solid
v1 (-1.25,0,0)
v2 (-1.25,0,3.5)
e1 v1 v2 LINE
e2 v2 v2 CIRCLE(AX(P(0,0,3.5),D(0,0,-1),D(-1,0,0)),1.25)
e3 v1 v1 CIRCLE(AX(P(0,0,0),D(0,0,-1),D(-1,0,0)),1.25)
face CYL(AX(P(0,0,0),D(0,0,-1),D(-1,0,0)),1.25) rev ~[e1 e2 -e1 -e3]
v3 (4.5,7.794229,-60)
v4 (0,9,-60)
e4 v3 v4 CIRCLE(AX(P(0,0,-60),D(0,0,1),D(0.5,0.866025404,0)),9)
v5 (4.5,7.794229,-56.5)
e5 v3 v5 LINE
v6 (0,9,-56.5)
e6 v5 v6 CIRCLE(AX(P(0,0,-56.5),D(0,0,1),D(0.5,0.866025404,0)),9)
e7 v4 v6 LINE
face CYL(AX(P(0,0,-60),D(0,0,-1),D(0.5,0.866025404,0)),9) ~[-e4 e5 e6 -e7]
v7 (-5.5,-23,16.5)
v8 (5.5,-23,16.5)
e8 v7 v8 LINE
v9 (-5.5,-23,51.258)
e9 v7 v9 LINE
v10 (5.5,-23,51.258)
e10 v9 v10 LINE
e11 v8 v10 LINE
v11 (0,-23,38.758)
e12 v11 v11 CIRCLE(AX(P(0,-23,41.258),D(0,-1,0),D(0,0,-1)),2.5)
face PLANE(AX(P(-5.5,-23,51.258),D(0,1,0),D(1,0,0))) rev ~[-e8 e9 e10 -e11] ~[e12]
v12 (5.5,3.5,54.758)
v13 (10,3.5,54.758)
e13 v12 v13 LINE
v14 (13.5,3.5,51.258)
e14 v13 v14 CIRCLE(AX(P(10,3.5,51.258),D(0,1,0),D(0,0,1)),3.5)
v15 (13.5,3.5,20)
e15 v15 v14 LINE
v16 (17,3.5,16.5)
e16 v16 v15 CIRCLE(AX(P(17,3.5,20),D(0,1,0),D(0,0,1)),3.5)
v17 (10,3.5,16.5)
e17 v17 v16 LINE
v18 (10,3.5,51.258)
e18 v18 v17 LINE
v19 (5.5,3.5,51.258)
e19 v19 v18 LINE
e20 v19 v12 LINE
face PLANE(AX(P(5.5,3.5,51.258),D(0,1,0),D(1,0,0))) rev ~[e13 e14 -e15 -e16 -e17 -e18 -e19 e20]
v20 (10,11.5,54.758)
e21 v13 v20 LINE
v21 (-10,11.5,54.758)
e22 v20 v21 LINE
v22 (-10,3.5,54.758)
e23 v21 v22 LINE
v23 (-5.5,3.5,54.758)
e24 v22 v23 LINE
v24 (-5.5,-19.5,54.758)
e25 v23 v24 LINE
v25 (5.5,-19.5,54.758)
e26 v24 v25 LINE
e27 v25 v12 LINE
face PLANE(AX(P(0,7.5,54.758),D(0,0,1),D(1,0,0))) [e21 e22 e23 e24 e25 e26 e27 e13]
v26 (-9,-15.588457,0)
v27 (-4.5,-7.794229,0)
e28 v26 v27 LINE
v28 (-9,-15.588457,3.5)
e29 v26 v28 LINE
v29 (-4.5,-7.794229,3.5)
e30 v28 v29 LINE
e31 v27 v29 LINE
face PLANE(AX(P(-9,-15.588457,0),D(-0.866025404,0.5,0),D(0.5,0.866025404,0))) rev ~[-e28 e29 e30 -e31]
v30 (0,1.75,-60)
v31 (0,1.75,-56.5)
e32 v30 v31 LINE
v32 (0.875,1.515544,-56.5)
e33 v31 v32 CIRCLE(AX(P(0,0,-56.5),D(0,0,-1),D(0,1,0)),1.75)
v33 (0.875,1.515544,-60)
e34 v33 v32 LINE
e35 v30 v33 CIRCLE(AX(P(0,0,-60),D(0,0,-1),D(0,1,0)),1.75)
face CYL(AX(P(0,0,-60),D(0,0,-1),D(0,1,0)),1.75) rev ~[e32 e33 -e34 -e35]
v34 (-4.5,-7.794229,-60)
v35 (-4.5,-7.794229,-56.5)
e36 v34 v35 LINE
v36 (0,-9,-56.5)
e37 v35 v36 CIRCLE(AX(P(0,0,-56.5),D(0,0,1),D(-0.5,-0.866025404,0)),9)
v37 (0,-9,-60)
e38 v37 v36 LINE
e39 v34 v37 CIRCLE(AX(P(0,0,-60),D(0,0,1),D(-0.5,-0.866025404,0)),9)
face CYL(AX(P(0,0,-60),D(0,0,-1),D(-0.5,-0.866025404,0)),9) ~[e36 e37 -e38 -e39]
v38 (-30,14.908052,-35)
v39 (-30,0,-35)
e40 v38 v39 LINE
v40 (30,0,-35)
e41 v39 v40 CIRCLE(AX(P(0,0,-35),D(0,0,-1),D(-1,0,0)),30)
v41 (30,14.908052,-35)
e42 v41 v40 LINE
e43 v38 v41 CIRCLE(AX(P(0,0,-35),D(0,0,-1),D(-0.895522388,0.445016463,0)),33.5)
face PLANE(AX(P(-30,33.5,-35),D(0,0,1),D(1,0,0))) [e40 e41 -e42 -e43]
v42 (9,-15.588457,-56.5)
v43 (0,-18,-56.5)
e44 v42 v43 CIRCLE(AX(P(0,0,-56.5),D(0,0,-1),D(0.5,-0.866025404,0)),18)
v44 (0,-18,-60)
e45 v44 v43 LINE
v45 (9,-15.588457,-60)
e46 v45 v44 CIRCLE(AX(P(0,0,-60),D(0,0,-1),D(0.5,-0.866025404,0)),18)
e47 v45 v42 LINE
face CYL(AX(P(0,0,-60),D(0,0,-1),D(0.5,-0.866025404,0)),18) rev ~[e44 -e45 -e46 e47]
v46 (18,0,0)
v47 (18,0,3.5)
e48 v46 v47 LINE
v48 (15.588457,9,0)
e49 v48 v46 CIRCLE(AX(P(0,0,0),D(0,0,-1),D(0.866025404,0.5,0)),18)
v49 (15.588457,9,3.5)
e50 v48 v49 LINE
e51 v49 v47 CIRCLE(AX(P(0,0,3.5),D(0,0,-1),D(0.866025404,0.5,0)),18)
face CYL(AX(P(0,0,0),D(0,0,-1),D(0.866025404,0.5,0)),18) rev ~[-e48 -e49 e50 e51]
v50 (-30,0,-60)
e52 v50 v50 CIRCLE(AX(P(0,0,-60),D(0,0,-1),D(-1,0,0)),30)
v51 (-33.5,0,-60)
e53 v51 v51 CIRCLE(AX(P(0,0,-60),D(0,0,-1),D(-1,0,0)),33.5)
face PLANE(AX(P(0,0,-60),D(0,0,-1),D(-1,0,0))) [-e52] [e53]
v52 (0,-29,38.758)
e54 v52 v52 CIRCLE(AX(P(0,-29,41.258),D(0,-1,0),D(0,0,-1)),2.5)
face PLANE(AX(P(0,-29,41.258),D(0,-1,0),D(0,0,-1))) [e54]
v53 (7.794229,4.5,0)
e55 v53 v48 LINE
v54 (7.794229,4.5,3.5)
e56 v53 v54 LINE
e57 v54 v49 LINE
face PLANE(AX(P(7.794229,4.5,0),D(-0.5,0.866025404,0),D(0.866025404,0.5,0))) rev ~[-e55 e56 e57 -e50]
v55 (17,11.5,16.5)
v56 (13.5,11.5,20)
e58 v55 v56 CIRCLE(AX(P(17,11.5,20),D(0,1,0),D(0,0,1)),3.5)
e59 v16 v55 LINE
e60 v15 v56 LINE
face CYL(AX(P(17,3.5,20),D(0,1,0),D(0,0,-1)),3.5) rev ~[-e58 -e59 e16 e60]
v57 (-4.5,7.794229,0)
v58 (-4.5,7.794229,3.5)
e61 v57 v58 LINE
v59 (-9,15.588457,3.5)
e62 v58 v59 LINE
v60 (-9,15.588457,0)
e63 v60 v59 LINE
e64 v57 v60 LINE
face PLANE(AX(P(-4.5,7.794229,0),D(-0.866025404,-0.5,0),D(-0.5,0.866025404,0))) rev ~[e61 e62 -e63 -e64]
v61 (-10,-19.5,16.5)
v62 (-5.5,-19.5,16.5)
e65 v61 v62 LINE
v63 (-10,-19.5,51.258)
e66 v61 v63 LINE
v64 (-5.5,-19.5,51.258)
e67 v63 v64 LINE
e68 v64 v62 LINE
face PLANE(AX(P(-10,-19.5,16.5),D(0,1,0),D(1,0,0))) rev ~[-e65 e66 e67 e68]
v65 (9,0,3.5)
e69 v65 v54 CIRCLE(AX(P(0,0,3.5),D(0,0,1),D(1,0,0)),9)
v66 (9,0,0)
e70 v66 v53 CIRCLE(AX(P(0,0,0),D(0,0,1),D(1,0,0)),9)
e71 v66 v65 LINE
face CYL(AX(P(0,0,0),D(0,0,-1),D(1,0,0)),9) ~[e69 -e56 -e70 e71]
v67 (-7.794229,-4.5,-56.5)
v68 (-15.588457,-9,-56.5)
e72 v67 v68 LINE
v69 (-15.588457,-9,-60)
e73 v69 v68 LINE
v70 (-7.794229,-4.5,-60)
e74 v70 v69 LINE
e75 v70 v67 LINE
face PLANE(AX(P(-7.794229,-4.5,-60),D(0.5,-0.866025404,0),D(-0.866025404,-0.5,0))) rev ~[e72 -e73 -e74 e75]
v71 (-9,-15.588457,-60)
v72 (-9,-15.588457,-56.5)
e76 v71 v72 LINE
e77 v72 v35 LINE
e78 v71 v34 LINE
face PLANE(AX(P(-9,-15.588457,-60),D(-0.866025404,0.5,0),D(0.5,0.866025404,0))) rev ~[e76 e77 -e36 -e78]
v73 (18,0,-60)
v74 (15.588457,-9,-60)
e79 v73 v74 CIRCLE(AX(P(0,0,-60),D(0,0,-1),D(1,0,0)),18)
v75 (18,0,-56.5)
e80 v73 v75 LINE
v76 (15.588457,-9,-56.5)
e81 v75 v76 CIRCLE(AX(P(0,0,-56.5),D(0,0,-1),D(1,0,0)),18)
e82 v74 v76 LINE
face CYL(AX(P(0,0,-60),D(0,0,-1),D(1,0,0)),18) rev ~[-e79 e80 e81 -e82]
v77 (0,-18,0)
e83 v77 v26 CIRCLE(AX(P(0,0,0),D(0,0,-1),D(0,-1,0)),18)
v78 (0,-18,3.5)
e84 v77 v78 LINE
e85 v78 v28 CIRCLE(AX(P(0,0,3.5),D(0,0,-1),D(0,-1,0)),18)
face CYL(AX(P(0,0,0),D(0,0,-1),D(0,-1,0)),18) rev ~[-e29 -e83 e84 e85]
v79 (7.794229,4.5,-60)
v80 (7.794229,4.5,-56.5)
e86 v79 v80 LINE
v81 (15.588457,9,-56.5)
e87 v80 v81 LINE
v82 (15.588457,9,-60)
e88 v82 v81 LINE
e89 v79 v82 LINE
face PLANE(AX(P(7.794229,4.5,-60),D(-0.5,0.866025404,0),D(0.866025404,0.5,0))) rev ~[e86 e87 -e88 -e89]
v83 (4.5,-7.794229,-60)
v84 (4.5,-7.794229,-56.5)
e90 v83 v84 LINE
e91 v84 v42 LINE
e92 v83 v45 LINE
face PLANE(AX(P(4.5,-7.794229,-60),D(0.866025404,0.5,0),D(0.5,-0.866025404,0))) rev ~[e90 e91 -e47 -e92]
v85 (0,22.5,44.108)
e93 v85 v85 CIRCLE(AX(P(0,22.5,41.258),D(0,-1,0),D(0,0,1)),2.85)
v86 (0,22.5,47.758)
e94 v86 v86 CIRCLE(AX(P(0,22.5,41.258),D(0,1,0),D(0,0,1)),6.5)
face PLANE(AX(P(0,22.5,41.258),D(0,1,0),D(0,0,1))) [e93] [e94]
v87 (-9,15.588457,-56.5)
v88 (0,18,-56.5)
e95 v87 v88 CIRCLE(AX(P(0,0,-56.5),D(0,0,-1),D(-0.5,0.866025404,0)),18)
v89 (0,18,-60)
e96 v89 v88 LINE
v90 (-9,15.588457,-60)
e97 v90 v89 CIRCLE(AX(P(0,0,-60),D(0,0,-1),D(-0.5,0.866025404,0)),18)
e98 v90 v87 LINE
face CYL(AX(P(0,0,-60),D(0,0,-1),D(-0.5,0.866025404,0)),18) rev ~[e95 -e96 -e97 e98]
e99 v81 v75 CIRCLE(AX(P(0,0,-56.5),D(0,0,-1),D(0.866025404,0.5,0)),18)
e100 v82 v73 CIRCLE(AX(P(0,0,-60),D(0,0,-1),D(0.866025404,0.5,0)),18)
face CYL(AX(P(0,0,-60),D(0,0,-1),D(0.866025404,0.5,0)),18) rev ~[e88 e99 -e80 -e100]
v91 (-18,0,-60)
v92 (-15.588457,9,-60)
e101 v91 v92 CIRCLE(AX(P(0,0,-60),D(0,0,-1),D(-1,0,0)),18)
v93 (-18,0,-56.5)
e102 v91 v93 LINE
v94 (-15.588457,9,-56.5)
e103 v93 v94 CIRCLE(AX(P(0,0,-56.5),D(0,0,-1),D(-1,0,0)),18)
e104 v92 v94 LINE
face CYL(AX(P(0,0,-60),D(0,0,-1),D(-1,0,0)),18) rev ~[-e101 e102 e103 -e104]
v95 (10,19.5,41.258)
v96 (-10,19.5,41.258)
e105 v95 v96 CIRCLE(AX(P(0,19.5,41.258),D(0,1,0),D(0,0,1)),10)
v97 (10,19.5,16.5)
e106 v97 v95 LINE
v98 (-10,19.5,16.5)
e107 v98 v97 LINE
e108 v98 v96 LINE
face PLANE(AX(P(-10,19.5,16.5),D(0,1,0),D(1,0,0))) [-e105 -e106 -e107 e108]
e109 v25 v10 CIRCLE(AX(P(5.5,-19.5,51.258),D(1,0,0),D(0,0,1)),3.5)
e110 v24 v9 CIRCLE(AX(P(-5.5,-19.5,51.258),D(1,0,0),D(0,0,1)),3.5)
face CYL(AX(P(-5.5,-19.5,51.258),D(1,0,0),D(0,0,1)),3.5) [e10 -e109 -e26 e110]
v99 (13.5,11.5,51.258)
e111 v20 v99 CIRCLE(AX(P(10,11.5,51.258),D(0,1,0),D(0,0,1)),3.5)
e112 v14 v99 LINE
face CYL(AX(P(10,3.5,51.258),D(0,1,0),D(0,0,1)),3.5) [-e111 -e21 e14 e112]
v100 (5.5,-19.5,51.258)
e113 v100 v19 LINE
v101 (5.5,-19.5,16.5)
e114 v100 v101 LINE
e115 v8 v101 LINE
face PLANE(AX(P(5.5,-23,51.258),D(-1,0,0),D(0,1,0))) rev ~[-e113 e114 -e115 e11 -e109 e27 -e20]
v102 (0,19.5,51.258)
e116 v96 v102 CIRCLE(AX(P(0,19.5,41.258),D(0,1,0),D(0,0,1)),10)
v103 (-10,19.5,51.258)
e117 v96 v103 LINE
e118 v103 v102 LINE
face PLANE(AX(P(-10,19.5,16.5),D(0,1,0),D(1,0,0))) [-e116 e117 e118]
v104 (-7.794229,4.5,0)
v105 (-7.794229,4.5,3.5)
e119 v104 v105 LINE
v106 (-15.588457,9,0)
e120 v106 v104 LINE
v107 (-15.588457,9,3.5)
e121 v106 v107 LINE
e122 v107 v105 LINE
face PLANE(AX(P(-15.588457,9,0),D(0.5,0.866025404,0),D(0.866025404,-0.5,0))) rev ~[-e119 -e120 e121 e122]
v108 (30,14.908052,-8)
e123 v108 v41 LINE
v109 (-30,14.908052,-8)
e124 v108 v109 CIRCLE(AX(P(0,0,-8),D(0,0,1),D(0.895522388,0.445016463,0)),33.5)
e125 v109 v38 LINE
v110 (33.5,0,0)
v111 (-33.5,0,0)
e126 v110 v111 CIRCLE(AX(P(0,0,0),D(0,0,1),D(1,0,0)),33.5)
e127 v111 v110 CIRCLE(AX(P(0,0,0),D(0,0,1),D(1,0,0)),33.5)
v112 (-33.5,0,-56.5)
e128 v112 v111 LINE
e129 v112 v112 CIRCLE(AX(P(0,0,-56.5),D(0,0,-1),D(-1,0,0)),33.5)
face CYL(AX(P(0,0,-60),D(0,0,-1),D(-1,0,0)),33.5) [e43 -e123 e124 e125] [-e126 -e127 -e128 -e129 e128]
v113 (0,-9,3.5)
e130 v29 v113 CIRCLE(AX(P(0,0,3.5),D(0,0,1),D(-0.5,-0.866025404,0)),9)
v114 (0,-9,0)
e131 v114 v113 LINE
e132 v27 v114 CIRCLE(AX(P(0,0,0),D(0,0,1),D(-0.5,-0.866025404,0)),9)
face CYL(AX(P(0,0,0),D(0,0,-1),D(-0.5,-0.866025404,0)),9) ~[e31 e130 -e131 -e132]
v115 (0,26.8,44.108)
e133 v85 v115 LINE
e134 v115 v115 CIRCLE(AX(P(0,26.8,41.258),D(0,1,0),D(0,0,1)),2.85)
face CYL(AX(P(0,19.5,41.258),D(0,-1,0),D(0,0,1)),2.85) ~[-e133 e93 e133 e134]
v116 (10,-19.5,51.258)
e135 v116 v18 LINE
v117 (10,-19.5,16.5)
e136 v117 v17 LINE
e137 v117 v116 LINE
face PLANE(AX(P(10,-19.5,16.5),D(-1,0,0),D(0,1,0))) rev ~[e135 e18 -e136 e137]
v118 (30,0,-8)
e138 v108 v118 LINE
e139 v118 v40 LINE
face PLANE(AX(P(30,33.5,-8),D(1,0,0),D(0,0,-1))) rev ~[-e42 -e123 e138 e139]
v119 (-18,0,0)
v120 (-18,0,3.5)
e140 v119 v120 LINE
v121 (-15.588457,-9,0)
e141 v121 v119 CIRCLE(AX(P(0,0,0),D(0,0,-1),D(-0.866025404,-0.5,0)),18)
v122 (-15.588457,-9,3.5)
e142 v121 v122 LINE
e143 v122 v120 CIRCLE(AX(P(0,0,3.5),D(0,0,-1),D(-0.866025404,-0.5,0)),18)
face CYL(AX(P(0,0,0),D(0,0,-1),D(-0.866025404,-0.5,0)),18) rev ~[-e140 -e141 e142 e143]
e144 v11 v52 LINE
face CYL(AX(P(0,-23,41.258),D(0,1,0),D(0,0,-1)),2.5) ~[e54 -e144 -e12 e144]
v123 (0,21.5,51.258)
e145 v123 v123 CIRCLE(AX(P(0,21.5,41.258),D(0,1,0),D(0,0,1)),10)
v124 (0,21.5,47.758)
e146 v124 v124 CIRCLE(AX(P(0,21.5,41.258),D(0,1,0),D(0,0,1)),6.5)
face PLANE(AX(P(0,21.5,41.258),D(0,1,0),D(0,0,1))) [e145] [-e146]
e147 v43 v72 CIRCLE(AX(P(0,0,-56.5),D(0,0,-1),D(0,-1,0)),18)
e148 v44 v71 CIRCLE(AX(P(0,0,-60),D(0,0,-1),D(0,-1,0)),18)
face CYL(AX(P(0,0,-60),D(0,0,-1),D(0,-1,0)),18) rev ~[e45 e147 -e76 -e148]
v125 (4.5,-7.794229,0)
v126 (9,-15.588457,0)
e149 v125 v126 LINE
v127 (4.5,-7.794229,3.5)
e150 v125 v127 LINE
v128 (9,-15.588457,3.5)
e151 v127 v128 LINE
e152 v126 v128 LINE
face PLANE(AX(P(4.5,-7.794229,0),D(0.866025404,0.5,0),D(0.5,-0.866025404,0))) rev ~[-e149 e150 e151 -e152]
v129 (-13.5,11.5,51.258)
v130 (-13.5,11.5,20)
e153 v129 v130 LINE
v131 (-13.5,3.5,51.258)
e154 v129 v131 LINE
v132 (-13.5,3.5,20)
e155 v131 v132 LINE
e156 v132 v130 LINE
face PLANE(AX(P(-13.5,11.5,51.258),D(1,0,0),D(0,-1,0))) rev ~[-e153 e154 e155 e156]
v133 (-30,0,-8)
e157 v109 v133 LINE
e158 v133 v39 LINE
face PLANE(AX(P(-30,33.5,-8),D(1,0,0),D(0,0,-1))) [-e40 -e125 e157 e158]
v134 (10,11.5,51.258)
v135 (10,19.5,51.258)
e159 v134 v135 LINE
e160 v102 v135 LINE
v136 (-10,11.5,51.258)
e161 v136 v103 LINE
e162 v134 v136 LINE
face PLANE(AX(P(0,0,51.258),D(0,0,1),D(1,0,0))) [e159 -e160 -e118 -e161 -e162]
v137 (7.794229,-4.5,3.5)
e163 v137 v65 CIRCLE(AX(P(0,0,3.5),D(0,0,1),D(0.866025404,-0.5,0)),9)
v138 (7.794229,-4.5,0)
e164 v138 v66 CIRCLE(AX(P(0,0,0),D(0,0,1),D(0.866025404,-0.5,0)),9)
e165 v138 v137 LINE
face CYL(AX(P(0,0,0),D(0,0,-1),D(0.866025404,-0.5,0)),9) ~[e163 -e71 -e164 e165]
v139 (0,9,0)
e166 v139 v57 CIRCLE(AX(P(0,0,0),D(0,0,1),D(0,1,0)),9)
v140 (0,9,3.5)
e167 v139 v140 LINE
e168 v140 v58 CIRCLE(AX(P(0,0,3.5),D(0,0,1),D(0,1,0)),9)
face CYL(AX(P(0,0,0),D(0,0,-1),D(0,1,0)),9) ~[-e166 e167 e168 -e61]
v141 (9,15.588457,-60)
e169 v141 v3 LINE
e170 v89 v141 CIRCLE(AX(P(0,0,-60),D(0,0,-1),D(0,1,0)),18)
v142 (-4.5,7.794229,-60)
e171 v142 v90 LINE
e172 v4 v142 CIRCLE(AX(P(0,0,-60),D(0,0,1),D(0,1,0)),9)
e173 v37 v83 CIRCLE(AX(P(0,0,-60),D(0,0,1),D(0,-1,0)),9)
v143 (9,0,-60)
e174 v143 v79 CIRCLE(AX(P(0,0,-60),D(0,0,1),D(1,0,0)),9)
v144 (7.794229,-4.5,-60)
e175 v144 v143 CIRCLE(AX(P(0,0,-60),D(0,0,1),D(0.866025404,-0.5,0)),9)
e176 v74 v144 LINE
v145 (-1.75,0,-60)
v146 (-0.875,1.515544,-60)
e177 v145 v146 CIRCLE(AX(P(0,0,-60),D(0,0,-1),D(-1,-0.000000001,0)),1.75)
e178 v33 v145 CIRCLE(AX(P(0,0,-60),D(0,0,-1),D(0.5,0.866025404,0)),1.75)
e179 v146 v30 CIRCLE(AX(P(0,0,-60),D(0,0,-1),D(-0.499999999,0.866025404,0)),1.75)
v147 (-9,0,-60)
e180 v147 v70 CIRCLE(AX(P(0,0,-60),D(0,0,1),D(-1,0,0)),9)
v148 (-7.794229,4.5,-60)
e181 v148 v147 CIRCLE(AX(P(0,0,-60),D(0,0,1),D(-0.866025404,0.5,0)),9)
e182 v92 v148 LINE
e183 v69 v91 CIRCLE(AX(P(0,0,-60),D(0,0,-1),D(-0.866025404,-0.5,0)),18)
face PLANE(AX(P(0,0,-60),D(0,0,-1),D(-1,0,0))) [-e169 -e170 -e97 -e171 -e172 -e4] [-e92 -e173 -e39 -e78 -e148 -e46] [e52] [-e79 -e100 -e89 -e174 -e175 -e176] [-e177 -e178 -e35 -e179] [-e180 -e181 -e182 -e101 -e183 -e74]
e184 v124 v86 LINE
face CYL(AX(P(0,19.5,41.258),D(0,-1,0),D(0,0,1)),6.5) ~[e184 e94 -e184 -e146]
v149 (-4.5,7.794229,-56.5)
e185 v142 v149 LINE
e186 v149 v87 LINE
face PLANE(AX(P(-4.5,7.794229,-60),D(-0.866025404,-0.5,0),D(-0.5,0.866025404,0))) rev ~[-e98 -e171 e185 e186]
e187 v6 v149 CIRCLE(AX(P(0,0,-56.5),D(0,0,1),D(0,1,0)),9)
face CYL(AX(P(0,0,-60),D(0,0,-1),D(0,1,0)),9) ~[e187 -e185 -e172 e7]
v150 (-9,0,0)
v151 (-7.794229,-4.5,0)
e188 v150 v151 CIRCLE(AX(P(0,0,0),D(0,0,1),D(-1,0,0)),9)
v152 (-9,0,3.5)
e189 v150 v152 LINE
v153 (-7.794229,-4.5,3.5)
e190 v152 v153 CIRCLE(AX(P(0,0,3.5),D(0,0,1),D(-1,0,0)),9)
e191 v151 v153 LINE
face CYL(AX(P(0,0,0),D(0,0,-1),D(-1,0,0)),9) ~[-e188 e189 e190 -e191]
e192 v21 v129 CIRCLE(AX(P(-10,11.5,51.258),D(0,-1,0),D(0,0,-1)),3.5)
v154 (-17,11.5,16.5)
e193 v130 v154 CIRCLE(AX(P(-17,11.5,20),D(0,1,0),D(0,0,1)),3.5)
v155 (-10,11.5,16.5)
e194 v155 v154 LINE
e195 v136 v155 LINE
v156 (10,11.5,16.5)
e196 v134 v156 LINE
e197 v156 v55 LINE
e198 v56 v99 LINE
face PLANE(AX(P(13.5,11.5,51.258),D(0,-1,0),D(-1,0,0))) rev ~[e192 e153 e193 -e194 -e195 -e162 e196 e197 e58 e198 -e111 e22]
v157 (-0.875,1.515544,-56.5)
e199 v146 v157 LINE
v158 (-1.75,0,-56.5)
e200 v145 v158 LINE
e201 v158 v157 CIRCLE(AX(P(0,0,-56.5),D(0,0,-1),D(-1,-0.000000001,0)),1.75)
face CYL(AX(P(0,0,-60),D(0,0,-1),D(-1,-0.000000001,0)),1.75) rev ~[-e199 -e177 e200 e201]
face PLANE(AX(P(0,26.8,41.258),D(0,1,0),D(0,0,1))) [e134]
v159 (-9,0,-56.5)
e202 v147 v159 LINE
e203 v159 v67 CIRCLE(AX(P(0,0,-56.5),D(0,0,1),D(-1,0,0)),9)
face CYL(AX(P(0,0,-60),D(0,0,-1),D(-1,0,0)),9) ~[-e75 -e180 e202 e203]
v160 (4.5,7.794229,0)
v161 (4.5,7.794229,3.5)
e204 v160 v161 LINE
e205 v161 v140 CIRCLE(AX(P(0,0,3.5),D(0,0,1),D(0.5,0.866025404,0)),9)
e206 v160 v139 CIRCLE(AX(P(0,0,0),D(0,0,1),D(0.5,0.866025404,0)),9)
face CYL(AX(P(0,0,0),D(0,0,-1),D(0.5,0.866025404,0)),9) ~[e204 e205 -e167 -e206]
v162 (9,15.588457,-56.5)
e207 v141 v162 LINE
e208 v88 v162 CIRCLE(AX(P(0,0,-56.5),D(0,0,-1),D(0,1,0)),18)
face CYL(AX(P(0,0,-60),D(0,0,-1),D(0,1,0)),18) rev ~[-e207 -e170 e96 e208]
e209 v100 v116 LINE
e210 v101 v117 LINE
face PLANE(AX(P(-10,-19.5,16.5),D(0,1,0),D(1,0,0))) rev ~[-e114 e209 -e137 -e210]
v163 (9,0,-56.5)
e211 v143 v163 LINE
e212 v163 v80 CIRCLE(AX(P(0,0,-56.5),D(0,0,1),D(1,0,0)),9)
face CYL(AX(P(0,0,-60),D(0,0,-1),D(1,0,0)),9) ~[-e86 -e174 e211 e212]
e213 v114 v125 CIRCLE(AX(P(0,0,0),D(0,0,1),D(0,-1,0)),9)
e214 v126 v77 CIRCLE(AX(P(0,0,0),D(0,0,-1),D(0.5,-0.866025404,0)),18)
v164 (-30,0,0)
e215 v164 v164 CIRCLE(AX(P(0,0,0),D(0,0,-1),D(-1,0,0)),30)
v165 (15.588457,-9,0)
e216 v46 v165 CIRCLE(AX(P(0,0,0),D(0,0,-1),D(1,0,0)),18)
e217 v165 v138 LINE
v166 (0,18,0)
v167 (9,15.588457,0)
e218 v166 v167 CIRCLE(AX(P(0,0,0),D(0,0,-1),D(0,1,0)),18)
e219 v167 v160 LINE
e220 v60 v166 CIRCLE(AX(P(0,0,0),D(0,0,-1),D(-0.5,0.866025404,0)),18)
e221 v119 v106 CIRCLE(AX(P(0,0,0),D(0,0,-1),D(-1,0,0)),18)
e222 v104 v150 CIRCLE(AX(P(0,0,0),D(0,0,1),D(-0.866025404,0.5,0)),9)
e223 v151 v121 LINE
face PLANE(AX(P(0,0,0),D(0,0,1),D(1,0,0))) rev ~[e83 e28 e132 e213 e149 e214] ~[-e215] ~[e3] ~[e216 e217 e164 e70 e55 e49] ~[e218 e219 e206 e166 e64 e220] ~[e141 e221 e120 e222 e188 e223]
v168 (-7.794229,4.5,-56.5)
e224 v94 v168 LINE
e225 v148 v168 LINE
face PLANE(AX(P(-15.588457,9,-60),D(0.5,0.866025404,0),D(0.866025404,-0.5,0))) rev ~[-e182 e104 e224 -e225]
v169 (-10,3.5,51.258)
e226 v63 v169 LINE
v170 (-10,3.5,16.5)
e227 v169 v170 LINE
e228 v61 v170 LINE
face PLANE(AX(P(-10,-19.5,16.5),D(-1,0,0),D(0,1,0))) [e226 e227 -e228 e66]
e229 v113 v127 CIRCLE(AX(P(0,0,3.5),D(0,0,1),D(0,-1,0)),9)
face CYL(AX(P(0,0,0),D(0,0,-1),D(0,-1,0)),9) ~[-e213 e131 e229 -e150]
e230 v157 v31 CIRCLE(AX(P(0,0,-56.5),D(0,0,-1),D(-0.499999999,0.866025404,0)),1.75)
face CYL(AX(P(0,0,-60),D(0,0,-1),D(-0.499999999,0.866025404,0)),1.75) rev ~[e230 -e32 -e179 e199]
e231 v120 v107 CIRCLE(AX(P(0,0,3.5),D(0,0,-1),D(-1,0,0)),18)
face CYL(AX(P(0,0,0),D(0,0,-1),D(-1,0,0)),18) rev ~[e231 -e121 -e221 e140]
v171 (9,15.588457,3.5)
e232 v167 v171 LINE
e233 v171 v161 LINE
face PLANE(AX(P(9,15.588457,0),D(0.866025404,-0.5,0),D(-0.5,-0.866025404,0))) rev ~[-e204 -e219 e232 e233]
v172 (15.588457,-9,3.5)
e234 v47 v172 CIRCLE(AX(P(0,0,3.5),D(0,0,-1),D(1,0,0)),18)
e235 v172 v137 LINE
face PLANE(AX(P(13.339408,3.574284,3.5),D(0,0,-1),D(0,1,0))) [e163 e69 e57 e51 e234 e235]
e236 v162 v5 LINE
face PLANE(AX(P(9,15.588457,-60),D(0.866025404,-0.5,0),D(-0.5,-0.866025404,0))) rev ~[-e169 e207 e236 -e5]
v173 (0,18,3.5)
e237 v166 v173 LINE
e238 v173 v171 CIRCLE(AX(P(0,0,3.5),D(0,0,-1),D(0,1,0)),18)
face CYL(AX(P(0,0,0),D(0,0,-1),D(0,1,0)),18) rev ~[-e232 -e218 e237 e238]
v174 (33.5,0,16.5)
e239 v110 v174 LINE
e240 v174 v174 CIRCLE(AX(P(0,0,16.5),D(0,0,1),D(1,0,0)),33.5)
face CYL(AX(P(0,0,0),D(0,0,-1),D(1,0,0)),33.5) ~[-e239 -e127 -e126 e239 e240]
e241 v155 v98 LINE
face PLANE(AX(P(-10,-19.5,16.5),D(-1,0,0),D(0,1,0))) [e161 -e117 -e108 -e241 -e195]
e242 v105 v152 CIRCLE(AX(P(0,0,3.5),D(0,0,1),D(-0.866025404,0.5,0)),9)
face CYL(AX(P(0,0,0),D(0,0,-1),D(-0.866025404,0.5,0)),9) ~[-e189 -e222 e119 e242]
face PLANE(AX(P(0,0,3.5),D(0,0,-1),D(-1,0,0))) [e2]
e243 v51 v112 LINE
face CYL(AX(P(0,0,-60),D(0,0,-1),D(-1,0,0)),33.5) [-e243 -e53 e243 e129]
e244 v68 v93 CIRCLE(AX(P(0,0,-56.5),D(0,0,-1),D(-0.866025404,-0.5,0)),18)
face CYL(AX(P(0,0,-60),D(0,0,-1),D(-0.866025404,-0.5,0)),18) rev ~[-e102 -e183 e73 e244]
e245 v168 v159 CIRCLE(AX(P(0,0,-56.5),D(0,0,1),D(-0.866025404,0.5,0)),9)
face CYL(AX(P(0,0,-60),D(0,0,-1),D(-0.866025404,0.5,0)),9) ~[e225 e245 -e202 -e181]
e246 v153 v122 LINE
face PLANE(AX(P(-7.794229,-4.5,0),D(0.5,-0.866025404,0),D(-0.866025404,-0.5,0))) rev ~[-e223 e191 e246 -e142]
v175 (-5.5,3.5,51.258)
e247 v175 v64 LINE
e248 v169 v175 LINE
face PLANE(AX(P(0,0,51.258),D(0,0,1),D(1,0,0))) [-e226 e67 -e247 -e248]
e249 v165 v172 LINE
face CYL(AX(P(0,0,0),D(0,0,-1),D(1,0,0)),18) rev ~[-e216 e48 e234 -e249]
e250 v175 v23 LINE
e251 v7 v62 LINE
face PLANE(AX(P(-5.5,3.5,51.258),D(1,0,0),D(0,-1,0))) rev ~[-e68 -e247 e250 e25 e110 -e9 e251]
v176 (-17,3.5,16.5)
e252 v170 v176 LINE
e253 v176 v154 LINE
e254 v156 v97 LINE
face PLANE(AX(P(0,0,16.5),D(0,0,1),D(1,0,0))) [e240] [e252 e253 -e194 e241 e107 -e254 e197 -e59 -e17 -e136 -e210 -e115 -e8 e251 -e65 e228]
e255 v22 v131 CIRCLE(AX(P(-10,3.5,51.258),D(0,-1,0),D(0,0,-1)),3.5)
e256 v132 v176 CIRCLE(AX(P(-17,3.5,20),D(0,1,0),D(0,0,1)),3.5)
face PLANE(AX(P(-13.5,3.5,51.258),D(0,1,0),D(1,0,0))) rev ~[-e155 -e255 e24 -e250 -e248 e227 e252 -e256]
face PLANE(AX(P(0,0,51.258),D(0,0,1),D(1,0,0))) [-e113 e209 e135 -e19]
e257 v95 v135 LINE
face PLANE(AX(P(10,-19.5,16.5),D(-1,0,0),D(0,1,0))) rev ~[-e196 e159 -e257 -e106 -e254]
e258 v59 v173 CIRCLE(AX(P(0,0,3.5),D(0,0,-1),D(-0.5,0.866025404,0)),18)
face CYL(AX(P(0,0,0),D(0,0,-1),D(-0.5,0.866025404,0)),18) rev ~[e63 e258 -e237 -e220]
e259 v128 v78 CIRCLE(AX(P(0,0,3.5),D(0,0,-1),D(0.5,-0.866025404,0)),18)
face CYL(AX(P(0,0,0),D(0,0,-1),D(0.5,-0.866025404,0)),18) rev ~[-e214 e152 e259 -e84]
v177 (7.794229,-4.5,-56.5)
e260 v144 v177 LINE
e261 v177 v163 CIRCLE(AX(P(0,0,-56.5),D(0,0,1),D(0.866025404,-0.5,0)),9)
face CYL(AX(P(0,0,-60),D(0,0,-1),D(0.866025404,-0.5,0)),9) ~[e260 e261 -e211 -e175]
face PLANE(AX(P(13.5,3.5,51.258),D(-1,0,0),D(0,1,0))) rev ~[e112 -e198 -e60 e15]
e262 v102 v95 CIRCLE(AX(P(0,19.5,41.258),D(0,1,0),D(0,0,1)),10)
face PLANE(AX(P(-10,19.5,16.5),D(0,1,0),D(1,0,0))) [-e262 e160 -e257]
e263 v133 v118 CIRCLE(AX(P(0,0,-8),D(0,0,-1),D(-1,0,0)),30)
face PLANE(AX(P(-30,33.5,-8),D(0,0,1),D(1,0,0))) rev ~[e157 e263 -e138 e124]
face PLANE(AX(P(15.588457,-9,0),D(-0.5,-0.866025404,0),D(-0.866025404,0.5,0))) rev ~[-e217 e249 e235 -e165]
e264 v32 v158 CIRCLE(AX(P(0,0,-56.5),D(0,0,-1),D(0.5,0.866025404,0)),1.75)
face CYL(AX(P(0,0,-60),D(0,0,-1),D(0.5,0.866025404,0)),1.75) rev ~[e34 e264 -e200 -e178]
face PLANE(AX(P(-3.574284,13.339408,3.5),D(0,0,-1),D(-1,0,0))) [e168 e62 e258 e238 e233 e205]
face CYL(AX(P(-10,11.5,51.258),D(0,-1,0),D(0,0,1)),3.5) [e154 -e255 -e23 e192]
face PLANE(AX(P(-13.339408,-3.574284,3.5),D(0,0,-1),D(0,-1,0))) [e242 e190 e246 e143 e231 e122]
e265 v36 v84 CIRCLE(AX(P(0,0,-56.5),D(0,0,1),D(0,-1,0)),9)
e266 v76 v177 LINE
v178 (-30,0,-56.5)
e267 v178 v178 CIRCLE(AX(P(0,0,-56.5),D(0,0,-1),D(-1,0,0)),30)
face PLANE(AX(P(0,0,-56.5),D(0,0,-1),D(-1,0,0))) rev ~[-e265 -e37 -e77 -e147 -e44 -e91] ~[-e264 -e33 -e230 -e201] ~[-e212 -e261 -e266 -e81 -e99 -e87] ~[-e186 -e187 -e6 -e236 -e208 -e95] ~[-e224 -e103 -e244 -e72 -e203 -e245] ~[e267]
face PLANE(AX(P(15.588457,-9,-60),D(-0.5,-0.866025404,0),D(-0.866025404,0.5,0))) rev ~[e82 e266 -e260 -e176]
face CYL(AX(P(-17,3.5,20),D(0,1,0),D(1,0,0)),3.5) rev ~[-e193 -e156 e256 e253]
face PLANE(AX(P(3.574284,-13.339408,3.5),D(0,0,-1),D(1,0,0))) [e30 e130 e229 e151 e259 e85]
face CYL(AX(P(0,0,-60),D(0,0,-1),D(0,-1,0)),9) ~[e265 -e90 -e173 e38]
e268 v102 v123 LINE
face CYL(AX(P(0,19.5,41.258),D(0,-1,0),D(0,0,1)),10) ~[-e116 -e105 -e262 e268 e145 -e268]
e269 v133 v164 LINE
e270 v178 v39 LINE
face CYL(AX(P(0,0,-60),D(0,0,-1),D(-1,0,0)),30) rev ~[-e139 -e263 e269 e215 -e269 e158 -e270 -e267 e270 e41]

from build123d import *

# Parameters (mm, degrees)
SKETCH1_R            = 33.5
BOSS_EXTRUDE3_DEPTH  = 16.5
SKETCH2_W            = 20
SKETCH2_H            = 39
BOSS_EXTRUDE4_DEPTH  = 34.758
SKETCH3_R            = 10
SKETCH3_R_2          = 6.5
BOSS_EXTRUDE5_DEPTH  = 2
SKETCH3_3_R          = 6.5
BOSS_EXTRUDE6_DEPTH  = 3
SKETCH3_4_R          = 2.85
BOSS_EXTRUDE7_DEPTH  = 7.3
SKETCH5_W            = 11
SKETCH5_H            = 3.5
SKETCH5_W_2          = 3.5
SKETCH5_H_2          = 8
BOSS_EXTRUDE8_DEPTH  = 34.758
SKETCH6_W            = 11
SKETCH6_H            = 8
BOSS_EXTRUDE9_DEPTH  = 3.5
SKETCH7_R            = 2.5
BOSS_EXTRUDE10_DEPTH = 6
FILLET1_R            = 3.5
FILLET2_R            = 3.5
FILLET3_R            = 3.5
FILLET4_R            = 3.5
CUT_EXTRUDE11_DEPTH  = 3.5
CIRPATTERN4_COUNT    = 4
SKETCH14_3_R         = 1.25
CUT_EXTRUDE12_DEPTH  = 3.5
BOSS_EXTRUDE15_START = 60
SKETCH16_R           = 33.5
SKETCH16_R_2         = 30
BOSS_EXTRUDE15_DEPTH = 60
SKETCH17_W           = 60
SKETCH17_H           = 27
CUT_EXTRUDE13_DEPTH  = 33.5
SKETCH18_R           = 33.5
BOSS_EXTRUDE16_DEPTH = 3.5
CUT_EXTRUDE14_DEPTH  = 3.5
CIRPATTERN5_COUNT    = 4
CUT_EXTRUDE15_DEPTH  = 3.5


with BuildPart() as part:
    # Sketch1 → Boss-Extrude3 (new body)
    with BuildSketch(Plane.XY):
        Circle(SKETCH1_R)
    extrude(amount=BOSS_EXTRUDE3_DEPTH)

    # Sketch2 → Boss-Extrude4 (add)
    with BuildSketch(Plane.XY.offset(16.5)):
        Rectangle(SKETCH2_W, SKETCH2_H)
    extrude(amount=BOSS_EXTRUDE4_DEPTH)

    # Sketch3 → Boss-Extrude5 (add)
    with BuildSketch(Plane(origin=(0, 19.5, 0), x_dir=(1, 0, 0), z_dir=(0, 1, 0))):
        with Locations(Location((0, -41.258, 0), (0, 0, 270))):
            Circle(SKETCH3_R)
        with Locations(Location((0, -41.258, 0), (0, 0, 270))):
            Circle(SKETCH3_R_2, mode=Mode.SUBTRACT)
    extrude(amount=BOSS_EXTRUDE5_DEPTH)

    # Sketch3<3> → Boss-Extrude6 (add)
    with BuildSketch(Plane(origin=(0, 19.5, 0), x_dir=(1, 0, 0), z_dir=(0, 1, 0))):
        with Locations(Location((0, -41.258, 0), (0, 0, 270))):
            Circle(SKETCH3_3_R)
    extrude(amount=BOSS_EXTRUDE6_DEPTH)

    # Sketch3<4> → Boss-Extrude7 (add)
    with BuildSketch(Plane(origin=(0, 19.5, 0), x_dir=(1, 0, 0), z_dir=(0, 1, 0))):
        with Locations(Location((0, -41.258, 0), (0, 0, 270))):
            Circle(SKETCH3_4_R)
    extrude(amount=BOSS_EXTRUDE7_DEPTH)

    # Sketch5 → Boss-Extrude8 (add)
    with BuildSketch(Plane.XY.offset(51.258)):
        with Locations((0, -21.25)):
            Rectangle(SKETCH5_W, SKETCH5_H)
        with Locations((11.75, 7.5)):
            Rectangle(SKETCH5_W_2, SKETCH5_H_2)
        with Locations((-11.75, 7.5)):
            Rectangle(SKETCH5_W_2, SKETCH5_H_2)
    extrude(amount=-BOSS_EXTRUDE8_DEPTH)

    # Sketch6 → Boss-Extrude9 (add)
    with BuildSketch(Plane.XY.offset(51.258)):
        with Locations((0, 7.5)):
            Rectangle(SKETCH6_W, SKETCH6_H)
        Polygon((10, 11.5), (5.5, 11.5), (5.5, 3.5), (10, 3.5), (13.5, 3.5), (13.5, 11.5), align=None)
        Polygon((5.5, 3.5), (-5.5, 3.5), (-5.5, -19.5), (-5.5, -23), (5.5, -23), (5.5, -19.5), align=None)
        Polygon((-10, 11.5), (-13.5, 11.5), (-13.5, 3.5), (-10, 3.5), (-5.5, 3.5), (-5.5, 11.5), align=None)
    extrude(amount=BOSS_EXTRUDE9_DEPTH)

    # Sketch7 → Boss-Extrude10 (add)
    with BuildSketch(Plane.XZ.offset(23)):
        with Locations(Location((0, 41.258, 0), (0, 0, 270))):
            Circle(SKETCH7_R)
    extrude(amount=BOSS_EXTRUDE10_DEPTH)

    # Fillet1
    fillet1_edges = [part.edges().sort_by_distance(p)[0] for p in [
        (-13.5, 7.5, 54.758),
        (13.5, 7.5, 54.758),
    ]]
    fillet(fillet1_edges, radius=FILLET1_R)

    # Fillet2
    fillet2_edges = [part.edges().sort_by_distance(p)[0] for p in [
        (0, -23, 54.758),
    ]]
    fillet(fillet2_edges, radius=FILLET2_R)

    # Fillet3
    fillet3_edges = [part.edges().sort_by_distance(p)[0] for p in [
        (13.5, 7.5, 16.5),
    ]]
    fillet(fillet3_edges, radius=FILLET3_R)

    # Fillet4
    fillet4_edges = [part.edges().sort_by_distance(p)[0] for p in [
        (-13.5, 7.5, 16.5),
    ]]
    fillet(fillet4_edges, radius=FILLET4_R)

    # Sketch14 → Cut-Extrude11 (cut)
    with BuildSketch(Plane(origin=(0, 0, 0), x_dir=(-1, 0, 0), z_dir=(0, 0, -1))):
        with BuildLine():
            Line((0, 18), (0, 9))
            ThreePointArc((0, 9), (2.329371406, 8.693332437), (4.5, 7.794228634))
            Line((4.5, 7.794228634), (9, 15.588457268))
            ThreePointArc((9, 15.588457268), (4.658742812, 17.386664873), (0, 18))
        make_face()
        with BuildLine():
            ThreePointArc((-4.5, 7.794228634), (-2.329371406, 8.693332437), (0, 9))
            Line((0, 9), (0, 18))
            ThreePointArc((0, 18), (-4.658742812, 17.386664873), (-9, 15.588457268))
            Line((-9, 15.588457268), (-4.5, 7.794228634))
        make_face()
    cut_extrude11 = extrude(amount=-CUT_EXTRUDE11_DEPTH, mode=Mode.SUBTRACT)

    # CirPattern4: Cut-Extrude11 ×4 about axis
    cirpattern4_axis = Axis((0, 0, 0), (0, 0, 1))
    for i in range(1, CIRPATTERN4_COUNT):
        add(cut_extrude11.rotate(cirpattern4_axis, i * 360 / CIRPATTERN4_COUNT), mode=Mode.SUBTRACT)

    # Sketch14<3> → Cut-Extrude12 (cut)
    with BuildSketch(Plane(origin=(0, 0, 0), x_dir=(-1, 0, 0), z_dir=(0, 0, -1))):
        Circle(SKETCH14_3_R)
    extrude(amount=-CUT_EXTRUDE12_DEPTH, mode=Mode.SUBTRACT)

    # Sketch16 → Boss-Extrude15 (add)
    with BuildSketch(Plane(origin=(0, 0, 0), x_dir=(-1, 0, 0), z_dir=(0, 0, -1)).offset(BOSS_EXTRUDE15_START)):
        Circle(SKETCH16_R)
        Circle(SKETCH16_R_2, mode=Mode.SUBTRACT)
    extrude(amount=-BOSS_EXTRUDE15_DEPTH)

    # Sketch17 → Cut-Extrude13 (cut)
    with BuildSketch(Plane(origin=(0, 33.5, 0), x_dir=(1, 0, 0), z_dir=(0, 1, 0))):
        with Locations((0, 21.5)):
            Rectangle(SKETCH17_W, SKETCH17_H)
    extrude(amount=-CUT_EXTRUDE13_DEPTH, mode=Mode.SUBTRACT)

    # Sketch18 → Boss-Extrude16 (add)
    with BuildSketch(Plane(origin=(0, 0, -60), x_dir=(-1, 0, 0), z_dir=(0, 0, -1))):
        Circle(SKETCH18_R)
    extrude(amount=-BOSS_EXTRUDE16_DEPTH)

    # Sketch18<3> → Cut-Extrude14 (cut)
    with BuildSketch(Plane(origin=(0, 0, -60), x_dir=(-1, 0, 0), z_dir=(0, 0, -1))):
        with BuildLine():
            ThreePointArc((-4.5, 7.794228634), (-2.329371406, 8.693332437), (0, 9))
            Line((0, 9), (0, 18))
            ThreePointArc((0, 18), (-4.658742812, 17.386664873), (-9, 15.588457268))
            Line((-9, 15.588457268), (-4.5, 7.794228634))
        make_face()
        with BuildLine():
            Line((0, 18), (0, 9))
            ThreePointArc((0, 9), (2.329371406, 8.693332437), (4.5, 7.794228634))
            Line((4.5, 7.794228634), (9, 15.588457268))
            ThreePointArc((9, 15.588457268), (4.658742812, 17.386664873), (0, 18))
        make_face()
    cut_extrude14 = extrude(amount=-CUT_EXTRUDE14_DEPTH, mode=Mode.SUBTRACT)

    # CirPattern5: Cut-Extrude14 ×4 about axis
    cirpattern5_axis = Axis((0, 0, 16.5), (0, 0, -1))
    for i in range(1, CIRPATTERN5_COUNT):
        add(cut_extrude14.rotate(cirpattern5_axis, i * 360 / CIRPATTERN5_COUNT), mode=Mode.SUBTRACT)

    # Sketch18<4> → Cut-Extrude15 (cut)
    with BuildSketch(Plane(origin=(0, 0, -60), x_dir=(-1, 0, 0), z_dir=(0, 0, -1))):
        with BuildLine():
            Line((0, 1.75), (0, 0))
            Line((0, 0), (0.875, 1.515544457))
            ThreePointArc((0.875, 1.515544457), (0.452933329, 1.690370196), (0, 1.75))
        make_face()
        with BuildLine():
            Line((-0.875, 1.515544457), (0, 0))
            Line((0, 0), (0, 1.75))
            ThreePointArc((0, 1.75), (-0.452933329, 1.690370196), (-0.875, 1.515544457))
        make_face()
        with BuildLine():
            Line((0.875, 1.515544457), (0, 0))
            Line((0, 0), (-0.875, 1.515544457))
            ThreePointArc((-0.875, 1.515544457), (-0.875, -1.515544457), (1.75, 0))
            ThreePointArc((1.75, 0), (1.515544457, 0.875), (0.875, 1.515544457))
        make_face()
    extrude(amount=-CUT_EXTRUDE15_DEPTH, mode=Mode.SUBTRACT)


solid = part.part
